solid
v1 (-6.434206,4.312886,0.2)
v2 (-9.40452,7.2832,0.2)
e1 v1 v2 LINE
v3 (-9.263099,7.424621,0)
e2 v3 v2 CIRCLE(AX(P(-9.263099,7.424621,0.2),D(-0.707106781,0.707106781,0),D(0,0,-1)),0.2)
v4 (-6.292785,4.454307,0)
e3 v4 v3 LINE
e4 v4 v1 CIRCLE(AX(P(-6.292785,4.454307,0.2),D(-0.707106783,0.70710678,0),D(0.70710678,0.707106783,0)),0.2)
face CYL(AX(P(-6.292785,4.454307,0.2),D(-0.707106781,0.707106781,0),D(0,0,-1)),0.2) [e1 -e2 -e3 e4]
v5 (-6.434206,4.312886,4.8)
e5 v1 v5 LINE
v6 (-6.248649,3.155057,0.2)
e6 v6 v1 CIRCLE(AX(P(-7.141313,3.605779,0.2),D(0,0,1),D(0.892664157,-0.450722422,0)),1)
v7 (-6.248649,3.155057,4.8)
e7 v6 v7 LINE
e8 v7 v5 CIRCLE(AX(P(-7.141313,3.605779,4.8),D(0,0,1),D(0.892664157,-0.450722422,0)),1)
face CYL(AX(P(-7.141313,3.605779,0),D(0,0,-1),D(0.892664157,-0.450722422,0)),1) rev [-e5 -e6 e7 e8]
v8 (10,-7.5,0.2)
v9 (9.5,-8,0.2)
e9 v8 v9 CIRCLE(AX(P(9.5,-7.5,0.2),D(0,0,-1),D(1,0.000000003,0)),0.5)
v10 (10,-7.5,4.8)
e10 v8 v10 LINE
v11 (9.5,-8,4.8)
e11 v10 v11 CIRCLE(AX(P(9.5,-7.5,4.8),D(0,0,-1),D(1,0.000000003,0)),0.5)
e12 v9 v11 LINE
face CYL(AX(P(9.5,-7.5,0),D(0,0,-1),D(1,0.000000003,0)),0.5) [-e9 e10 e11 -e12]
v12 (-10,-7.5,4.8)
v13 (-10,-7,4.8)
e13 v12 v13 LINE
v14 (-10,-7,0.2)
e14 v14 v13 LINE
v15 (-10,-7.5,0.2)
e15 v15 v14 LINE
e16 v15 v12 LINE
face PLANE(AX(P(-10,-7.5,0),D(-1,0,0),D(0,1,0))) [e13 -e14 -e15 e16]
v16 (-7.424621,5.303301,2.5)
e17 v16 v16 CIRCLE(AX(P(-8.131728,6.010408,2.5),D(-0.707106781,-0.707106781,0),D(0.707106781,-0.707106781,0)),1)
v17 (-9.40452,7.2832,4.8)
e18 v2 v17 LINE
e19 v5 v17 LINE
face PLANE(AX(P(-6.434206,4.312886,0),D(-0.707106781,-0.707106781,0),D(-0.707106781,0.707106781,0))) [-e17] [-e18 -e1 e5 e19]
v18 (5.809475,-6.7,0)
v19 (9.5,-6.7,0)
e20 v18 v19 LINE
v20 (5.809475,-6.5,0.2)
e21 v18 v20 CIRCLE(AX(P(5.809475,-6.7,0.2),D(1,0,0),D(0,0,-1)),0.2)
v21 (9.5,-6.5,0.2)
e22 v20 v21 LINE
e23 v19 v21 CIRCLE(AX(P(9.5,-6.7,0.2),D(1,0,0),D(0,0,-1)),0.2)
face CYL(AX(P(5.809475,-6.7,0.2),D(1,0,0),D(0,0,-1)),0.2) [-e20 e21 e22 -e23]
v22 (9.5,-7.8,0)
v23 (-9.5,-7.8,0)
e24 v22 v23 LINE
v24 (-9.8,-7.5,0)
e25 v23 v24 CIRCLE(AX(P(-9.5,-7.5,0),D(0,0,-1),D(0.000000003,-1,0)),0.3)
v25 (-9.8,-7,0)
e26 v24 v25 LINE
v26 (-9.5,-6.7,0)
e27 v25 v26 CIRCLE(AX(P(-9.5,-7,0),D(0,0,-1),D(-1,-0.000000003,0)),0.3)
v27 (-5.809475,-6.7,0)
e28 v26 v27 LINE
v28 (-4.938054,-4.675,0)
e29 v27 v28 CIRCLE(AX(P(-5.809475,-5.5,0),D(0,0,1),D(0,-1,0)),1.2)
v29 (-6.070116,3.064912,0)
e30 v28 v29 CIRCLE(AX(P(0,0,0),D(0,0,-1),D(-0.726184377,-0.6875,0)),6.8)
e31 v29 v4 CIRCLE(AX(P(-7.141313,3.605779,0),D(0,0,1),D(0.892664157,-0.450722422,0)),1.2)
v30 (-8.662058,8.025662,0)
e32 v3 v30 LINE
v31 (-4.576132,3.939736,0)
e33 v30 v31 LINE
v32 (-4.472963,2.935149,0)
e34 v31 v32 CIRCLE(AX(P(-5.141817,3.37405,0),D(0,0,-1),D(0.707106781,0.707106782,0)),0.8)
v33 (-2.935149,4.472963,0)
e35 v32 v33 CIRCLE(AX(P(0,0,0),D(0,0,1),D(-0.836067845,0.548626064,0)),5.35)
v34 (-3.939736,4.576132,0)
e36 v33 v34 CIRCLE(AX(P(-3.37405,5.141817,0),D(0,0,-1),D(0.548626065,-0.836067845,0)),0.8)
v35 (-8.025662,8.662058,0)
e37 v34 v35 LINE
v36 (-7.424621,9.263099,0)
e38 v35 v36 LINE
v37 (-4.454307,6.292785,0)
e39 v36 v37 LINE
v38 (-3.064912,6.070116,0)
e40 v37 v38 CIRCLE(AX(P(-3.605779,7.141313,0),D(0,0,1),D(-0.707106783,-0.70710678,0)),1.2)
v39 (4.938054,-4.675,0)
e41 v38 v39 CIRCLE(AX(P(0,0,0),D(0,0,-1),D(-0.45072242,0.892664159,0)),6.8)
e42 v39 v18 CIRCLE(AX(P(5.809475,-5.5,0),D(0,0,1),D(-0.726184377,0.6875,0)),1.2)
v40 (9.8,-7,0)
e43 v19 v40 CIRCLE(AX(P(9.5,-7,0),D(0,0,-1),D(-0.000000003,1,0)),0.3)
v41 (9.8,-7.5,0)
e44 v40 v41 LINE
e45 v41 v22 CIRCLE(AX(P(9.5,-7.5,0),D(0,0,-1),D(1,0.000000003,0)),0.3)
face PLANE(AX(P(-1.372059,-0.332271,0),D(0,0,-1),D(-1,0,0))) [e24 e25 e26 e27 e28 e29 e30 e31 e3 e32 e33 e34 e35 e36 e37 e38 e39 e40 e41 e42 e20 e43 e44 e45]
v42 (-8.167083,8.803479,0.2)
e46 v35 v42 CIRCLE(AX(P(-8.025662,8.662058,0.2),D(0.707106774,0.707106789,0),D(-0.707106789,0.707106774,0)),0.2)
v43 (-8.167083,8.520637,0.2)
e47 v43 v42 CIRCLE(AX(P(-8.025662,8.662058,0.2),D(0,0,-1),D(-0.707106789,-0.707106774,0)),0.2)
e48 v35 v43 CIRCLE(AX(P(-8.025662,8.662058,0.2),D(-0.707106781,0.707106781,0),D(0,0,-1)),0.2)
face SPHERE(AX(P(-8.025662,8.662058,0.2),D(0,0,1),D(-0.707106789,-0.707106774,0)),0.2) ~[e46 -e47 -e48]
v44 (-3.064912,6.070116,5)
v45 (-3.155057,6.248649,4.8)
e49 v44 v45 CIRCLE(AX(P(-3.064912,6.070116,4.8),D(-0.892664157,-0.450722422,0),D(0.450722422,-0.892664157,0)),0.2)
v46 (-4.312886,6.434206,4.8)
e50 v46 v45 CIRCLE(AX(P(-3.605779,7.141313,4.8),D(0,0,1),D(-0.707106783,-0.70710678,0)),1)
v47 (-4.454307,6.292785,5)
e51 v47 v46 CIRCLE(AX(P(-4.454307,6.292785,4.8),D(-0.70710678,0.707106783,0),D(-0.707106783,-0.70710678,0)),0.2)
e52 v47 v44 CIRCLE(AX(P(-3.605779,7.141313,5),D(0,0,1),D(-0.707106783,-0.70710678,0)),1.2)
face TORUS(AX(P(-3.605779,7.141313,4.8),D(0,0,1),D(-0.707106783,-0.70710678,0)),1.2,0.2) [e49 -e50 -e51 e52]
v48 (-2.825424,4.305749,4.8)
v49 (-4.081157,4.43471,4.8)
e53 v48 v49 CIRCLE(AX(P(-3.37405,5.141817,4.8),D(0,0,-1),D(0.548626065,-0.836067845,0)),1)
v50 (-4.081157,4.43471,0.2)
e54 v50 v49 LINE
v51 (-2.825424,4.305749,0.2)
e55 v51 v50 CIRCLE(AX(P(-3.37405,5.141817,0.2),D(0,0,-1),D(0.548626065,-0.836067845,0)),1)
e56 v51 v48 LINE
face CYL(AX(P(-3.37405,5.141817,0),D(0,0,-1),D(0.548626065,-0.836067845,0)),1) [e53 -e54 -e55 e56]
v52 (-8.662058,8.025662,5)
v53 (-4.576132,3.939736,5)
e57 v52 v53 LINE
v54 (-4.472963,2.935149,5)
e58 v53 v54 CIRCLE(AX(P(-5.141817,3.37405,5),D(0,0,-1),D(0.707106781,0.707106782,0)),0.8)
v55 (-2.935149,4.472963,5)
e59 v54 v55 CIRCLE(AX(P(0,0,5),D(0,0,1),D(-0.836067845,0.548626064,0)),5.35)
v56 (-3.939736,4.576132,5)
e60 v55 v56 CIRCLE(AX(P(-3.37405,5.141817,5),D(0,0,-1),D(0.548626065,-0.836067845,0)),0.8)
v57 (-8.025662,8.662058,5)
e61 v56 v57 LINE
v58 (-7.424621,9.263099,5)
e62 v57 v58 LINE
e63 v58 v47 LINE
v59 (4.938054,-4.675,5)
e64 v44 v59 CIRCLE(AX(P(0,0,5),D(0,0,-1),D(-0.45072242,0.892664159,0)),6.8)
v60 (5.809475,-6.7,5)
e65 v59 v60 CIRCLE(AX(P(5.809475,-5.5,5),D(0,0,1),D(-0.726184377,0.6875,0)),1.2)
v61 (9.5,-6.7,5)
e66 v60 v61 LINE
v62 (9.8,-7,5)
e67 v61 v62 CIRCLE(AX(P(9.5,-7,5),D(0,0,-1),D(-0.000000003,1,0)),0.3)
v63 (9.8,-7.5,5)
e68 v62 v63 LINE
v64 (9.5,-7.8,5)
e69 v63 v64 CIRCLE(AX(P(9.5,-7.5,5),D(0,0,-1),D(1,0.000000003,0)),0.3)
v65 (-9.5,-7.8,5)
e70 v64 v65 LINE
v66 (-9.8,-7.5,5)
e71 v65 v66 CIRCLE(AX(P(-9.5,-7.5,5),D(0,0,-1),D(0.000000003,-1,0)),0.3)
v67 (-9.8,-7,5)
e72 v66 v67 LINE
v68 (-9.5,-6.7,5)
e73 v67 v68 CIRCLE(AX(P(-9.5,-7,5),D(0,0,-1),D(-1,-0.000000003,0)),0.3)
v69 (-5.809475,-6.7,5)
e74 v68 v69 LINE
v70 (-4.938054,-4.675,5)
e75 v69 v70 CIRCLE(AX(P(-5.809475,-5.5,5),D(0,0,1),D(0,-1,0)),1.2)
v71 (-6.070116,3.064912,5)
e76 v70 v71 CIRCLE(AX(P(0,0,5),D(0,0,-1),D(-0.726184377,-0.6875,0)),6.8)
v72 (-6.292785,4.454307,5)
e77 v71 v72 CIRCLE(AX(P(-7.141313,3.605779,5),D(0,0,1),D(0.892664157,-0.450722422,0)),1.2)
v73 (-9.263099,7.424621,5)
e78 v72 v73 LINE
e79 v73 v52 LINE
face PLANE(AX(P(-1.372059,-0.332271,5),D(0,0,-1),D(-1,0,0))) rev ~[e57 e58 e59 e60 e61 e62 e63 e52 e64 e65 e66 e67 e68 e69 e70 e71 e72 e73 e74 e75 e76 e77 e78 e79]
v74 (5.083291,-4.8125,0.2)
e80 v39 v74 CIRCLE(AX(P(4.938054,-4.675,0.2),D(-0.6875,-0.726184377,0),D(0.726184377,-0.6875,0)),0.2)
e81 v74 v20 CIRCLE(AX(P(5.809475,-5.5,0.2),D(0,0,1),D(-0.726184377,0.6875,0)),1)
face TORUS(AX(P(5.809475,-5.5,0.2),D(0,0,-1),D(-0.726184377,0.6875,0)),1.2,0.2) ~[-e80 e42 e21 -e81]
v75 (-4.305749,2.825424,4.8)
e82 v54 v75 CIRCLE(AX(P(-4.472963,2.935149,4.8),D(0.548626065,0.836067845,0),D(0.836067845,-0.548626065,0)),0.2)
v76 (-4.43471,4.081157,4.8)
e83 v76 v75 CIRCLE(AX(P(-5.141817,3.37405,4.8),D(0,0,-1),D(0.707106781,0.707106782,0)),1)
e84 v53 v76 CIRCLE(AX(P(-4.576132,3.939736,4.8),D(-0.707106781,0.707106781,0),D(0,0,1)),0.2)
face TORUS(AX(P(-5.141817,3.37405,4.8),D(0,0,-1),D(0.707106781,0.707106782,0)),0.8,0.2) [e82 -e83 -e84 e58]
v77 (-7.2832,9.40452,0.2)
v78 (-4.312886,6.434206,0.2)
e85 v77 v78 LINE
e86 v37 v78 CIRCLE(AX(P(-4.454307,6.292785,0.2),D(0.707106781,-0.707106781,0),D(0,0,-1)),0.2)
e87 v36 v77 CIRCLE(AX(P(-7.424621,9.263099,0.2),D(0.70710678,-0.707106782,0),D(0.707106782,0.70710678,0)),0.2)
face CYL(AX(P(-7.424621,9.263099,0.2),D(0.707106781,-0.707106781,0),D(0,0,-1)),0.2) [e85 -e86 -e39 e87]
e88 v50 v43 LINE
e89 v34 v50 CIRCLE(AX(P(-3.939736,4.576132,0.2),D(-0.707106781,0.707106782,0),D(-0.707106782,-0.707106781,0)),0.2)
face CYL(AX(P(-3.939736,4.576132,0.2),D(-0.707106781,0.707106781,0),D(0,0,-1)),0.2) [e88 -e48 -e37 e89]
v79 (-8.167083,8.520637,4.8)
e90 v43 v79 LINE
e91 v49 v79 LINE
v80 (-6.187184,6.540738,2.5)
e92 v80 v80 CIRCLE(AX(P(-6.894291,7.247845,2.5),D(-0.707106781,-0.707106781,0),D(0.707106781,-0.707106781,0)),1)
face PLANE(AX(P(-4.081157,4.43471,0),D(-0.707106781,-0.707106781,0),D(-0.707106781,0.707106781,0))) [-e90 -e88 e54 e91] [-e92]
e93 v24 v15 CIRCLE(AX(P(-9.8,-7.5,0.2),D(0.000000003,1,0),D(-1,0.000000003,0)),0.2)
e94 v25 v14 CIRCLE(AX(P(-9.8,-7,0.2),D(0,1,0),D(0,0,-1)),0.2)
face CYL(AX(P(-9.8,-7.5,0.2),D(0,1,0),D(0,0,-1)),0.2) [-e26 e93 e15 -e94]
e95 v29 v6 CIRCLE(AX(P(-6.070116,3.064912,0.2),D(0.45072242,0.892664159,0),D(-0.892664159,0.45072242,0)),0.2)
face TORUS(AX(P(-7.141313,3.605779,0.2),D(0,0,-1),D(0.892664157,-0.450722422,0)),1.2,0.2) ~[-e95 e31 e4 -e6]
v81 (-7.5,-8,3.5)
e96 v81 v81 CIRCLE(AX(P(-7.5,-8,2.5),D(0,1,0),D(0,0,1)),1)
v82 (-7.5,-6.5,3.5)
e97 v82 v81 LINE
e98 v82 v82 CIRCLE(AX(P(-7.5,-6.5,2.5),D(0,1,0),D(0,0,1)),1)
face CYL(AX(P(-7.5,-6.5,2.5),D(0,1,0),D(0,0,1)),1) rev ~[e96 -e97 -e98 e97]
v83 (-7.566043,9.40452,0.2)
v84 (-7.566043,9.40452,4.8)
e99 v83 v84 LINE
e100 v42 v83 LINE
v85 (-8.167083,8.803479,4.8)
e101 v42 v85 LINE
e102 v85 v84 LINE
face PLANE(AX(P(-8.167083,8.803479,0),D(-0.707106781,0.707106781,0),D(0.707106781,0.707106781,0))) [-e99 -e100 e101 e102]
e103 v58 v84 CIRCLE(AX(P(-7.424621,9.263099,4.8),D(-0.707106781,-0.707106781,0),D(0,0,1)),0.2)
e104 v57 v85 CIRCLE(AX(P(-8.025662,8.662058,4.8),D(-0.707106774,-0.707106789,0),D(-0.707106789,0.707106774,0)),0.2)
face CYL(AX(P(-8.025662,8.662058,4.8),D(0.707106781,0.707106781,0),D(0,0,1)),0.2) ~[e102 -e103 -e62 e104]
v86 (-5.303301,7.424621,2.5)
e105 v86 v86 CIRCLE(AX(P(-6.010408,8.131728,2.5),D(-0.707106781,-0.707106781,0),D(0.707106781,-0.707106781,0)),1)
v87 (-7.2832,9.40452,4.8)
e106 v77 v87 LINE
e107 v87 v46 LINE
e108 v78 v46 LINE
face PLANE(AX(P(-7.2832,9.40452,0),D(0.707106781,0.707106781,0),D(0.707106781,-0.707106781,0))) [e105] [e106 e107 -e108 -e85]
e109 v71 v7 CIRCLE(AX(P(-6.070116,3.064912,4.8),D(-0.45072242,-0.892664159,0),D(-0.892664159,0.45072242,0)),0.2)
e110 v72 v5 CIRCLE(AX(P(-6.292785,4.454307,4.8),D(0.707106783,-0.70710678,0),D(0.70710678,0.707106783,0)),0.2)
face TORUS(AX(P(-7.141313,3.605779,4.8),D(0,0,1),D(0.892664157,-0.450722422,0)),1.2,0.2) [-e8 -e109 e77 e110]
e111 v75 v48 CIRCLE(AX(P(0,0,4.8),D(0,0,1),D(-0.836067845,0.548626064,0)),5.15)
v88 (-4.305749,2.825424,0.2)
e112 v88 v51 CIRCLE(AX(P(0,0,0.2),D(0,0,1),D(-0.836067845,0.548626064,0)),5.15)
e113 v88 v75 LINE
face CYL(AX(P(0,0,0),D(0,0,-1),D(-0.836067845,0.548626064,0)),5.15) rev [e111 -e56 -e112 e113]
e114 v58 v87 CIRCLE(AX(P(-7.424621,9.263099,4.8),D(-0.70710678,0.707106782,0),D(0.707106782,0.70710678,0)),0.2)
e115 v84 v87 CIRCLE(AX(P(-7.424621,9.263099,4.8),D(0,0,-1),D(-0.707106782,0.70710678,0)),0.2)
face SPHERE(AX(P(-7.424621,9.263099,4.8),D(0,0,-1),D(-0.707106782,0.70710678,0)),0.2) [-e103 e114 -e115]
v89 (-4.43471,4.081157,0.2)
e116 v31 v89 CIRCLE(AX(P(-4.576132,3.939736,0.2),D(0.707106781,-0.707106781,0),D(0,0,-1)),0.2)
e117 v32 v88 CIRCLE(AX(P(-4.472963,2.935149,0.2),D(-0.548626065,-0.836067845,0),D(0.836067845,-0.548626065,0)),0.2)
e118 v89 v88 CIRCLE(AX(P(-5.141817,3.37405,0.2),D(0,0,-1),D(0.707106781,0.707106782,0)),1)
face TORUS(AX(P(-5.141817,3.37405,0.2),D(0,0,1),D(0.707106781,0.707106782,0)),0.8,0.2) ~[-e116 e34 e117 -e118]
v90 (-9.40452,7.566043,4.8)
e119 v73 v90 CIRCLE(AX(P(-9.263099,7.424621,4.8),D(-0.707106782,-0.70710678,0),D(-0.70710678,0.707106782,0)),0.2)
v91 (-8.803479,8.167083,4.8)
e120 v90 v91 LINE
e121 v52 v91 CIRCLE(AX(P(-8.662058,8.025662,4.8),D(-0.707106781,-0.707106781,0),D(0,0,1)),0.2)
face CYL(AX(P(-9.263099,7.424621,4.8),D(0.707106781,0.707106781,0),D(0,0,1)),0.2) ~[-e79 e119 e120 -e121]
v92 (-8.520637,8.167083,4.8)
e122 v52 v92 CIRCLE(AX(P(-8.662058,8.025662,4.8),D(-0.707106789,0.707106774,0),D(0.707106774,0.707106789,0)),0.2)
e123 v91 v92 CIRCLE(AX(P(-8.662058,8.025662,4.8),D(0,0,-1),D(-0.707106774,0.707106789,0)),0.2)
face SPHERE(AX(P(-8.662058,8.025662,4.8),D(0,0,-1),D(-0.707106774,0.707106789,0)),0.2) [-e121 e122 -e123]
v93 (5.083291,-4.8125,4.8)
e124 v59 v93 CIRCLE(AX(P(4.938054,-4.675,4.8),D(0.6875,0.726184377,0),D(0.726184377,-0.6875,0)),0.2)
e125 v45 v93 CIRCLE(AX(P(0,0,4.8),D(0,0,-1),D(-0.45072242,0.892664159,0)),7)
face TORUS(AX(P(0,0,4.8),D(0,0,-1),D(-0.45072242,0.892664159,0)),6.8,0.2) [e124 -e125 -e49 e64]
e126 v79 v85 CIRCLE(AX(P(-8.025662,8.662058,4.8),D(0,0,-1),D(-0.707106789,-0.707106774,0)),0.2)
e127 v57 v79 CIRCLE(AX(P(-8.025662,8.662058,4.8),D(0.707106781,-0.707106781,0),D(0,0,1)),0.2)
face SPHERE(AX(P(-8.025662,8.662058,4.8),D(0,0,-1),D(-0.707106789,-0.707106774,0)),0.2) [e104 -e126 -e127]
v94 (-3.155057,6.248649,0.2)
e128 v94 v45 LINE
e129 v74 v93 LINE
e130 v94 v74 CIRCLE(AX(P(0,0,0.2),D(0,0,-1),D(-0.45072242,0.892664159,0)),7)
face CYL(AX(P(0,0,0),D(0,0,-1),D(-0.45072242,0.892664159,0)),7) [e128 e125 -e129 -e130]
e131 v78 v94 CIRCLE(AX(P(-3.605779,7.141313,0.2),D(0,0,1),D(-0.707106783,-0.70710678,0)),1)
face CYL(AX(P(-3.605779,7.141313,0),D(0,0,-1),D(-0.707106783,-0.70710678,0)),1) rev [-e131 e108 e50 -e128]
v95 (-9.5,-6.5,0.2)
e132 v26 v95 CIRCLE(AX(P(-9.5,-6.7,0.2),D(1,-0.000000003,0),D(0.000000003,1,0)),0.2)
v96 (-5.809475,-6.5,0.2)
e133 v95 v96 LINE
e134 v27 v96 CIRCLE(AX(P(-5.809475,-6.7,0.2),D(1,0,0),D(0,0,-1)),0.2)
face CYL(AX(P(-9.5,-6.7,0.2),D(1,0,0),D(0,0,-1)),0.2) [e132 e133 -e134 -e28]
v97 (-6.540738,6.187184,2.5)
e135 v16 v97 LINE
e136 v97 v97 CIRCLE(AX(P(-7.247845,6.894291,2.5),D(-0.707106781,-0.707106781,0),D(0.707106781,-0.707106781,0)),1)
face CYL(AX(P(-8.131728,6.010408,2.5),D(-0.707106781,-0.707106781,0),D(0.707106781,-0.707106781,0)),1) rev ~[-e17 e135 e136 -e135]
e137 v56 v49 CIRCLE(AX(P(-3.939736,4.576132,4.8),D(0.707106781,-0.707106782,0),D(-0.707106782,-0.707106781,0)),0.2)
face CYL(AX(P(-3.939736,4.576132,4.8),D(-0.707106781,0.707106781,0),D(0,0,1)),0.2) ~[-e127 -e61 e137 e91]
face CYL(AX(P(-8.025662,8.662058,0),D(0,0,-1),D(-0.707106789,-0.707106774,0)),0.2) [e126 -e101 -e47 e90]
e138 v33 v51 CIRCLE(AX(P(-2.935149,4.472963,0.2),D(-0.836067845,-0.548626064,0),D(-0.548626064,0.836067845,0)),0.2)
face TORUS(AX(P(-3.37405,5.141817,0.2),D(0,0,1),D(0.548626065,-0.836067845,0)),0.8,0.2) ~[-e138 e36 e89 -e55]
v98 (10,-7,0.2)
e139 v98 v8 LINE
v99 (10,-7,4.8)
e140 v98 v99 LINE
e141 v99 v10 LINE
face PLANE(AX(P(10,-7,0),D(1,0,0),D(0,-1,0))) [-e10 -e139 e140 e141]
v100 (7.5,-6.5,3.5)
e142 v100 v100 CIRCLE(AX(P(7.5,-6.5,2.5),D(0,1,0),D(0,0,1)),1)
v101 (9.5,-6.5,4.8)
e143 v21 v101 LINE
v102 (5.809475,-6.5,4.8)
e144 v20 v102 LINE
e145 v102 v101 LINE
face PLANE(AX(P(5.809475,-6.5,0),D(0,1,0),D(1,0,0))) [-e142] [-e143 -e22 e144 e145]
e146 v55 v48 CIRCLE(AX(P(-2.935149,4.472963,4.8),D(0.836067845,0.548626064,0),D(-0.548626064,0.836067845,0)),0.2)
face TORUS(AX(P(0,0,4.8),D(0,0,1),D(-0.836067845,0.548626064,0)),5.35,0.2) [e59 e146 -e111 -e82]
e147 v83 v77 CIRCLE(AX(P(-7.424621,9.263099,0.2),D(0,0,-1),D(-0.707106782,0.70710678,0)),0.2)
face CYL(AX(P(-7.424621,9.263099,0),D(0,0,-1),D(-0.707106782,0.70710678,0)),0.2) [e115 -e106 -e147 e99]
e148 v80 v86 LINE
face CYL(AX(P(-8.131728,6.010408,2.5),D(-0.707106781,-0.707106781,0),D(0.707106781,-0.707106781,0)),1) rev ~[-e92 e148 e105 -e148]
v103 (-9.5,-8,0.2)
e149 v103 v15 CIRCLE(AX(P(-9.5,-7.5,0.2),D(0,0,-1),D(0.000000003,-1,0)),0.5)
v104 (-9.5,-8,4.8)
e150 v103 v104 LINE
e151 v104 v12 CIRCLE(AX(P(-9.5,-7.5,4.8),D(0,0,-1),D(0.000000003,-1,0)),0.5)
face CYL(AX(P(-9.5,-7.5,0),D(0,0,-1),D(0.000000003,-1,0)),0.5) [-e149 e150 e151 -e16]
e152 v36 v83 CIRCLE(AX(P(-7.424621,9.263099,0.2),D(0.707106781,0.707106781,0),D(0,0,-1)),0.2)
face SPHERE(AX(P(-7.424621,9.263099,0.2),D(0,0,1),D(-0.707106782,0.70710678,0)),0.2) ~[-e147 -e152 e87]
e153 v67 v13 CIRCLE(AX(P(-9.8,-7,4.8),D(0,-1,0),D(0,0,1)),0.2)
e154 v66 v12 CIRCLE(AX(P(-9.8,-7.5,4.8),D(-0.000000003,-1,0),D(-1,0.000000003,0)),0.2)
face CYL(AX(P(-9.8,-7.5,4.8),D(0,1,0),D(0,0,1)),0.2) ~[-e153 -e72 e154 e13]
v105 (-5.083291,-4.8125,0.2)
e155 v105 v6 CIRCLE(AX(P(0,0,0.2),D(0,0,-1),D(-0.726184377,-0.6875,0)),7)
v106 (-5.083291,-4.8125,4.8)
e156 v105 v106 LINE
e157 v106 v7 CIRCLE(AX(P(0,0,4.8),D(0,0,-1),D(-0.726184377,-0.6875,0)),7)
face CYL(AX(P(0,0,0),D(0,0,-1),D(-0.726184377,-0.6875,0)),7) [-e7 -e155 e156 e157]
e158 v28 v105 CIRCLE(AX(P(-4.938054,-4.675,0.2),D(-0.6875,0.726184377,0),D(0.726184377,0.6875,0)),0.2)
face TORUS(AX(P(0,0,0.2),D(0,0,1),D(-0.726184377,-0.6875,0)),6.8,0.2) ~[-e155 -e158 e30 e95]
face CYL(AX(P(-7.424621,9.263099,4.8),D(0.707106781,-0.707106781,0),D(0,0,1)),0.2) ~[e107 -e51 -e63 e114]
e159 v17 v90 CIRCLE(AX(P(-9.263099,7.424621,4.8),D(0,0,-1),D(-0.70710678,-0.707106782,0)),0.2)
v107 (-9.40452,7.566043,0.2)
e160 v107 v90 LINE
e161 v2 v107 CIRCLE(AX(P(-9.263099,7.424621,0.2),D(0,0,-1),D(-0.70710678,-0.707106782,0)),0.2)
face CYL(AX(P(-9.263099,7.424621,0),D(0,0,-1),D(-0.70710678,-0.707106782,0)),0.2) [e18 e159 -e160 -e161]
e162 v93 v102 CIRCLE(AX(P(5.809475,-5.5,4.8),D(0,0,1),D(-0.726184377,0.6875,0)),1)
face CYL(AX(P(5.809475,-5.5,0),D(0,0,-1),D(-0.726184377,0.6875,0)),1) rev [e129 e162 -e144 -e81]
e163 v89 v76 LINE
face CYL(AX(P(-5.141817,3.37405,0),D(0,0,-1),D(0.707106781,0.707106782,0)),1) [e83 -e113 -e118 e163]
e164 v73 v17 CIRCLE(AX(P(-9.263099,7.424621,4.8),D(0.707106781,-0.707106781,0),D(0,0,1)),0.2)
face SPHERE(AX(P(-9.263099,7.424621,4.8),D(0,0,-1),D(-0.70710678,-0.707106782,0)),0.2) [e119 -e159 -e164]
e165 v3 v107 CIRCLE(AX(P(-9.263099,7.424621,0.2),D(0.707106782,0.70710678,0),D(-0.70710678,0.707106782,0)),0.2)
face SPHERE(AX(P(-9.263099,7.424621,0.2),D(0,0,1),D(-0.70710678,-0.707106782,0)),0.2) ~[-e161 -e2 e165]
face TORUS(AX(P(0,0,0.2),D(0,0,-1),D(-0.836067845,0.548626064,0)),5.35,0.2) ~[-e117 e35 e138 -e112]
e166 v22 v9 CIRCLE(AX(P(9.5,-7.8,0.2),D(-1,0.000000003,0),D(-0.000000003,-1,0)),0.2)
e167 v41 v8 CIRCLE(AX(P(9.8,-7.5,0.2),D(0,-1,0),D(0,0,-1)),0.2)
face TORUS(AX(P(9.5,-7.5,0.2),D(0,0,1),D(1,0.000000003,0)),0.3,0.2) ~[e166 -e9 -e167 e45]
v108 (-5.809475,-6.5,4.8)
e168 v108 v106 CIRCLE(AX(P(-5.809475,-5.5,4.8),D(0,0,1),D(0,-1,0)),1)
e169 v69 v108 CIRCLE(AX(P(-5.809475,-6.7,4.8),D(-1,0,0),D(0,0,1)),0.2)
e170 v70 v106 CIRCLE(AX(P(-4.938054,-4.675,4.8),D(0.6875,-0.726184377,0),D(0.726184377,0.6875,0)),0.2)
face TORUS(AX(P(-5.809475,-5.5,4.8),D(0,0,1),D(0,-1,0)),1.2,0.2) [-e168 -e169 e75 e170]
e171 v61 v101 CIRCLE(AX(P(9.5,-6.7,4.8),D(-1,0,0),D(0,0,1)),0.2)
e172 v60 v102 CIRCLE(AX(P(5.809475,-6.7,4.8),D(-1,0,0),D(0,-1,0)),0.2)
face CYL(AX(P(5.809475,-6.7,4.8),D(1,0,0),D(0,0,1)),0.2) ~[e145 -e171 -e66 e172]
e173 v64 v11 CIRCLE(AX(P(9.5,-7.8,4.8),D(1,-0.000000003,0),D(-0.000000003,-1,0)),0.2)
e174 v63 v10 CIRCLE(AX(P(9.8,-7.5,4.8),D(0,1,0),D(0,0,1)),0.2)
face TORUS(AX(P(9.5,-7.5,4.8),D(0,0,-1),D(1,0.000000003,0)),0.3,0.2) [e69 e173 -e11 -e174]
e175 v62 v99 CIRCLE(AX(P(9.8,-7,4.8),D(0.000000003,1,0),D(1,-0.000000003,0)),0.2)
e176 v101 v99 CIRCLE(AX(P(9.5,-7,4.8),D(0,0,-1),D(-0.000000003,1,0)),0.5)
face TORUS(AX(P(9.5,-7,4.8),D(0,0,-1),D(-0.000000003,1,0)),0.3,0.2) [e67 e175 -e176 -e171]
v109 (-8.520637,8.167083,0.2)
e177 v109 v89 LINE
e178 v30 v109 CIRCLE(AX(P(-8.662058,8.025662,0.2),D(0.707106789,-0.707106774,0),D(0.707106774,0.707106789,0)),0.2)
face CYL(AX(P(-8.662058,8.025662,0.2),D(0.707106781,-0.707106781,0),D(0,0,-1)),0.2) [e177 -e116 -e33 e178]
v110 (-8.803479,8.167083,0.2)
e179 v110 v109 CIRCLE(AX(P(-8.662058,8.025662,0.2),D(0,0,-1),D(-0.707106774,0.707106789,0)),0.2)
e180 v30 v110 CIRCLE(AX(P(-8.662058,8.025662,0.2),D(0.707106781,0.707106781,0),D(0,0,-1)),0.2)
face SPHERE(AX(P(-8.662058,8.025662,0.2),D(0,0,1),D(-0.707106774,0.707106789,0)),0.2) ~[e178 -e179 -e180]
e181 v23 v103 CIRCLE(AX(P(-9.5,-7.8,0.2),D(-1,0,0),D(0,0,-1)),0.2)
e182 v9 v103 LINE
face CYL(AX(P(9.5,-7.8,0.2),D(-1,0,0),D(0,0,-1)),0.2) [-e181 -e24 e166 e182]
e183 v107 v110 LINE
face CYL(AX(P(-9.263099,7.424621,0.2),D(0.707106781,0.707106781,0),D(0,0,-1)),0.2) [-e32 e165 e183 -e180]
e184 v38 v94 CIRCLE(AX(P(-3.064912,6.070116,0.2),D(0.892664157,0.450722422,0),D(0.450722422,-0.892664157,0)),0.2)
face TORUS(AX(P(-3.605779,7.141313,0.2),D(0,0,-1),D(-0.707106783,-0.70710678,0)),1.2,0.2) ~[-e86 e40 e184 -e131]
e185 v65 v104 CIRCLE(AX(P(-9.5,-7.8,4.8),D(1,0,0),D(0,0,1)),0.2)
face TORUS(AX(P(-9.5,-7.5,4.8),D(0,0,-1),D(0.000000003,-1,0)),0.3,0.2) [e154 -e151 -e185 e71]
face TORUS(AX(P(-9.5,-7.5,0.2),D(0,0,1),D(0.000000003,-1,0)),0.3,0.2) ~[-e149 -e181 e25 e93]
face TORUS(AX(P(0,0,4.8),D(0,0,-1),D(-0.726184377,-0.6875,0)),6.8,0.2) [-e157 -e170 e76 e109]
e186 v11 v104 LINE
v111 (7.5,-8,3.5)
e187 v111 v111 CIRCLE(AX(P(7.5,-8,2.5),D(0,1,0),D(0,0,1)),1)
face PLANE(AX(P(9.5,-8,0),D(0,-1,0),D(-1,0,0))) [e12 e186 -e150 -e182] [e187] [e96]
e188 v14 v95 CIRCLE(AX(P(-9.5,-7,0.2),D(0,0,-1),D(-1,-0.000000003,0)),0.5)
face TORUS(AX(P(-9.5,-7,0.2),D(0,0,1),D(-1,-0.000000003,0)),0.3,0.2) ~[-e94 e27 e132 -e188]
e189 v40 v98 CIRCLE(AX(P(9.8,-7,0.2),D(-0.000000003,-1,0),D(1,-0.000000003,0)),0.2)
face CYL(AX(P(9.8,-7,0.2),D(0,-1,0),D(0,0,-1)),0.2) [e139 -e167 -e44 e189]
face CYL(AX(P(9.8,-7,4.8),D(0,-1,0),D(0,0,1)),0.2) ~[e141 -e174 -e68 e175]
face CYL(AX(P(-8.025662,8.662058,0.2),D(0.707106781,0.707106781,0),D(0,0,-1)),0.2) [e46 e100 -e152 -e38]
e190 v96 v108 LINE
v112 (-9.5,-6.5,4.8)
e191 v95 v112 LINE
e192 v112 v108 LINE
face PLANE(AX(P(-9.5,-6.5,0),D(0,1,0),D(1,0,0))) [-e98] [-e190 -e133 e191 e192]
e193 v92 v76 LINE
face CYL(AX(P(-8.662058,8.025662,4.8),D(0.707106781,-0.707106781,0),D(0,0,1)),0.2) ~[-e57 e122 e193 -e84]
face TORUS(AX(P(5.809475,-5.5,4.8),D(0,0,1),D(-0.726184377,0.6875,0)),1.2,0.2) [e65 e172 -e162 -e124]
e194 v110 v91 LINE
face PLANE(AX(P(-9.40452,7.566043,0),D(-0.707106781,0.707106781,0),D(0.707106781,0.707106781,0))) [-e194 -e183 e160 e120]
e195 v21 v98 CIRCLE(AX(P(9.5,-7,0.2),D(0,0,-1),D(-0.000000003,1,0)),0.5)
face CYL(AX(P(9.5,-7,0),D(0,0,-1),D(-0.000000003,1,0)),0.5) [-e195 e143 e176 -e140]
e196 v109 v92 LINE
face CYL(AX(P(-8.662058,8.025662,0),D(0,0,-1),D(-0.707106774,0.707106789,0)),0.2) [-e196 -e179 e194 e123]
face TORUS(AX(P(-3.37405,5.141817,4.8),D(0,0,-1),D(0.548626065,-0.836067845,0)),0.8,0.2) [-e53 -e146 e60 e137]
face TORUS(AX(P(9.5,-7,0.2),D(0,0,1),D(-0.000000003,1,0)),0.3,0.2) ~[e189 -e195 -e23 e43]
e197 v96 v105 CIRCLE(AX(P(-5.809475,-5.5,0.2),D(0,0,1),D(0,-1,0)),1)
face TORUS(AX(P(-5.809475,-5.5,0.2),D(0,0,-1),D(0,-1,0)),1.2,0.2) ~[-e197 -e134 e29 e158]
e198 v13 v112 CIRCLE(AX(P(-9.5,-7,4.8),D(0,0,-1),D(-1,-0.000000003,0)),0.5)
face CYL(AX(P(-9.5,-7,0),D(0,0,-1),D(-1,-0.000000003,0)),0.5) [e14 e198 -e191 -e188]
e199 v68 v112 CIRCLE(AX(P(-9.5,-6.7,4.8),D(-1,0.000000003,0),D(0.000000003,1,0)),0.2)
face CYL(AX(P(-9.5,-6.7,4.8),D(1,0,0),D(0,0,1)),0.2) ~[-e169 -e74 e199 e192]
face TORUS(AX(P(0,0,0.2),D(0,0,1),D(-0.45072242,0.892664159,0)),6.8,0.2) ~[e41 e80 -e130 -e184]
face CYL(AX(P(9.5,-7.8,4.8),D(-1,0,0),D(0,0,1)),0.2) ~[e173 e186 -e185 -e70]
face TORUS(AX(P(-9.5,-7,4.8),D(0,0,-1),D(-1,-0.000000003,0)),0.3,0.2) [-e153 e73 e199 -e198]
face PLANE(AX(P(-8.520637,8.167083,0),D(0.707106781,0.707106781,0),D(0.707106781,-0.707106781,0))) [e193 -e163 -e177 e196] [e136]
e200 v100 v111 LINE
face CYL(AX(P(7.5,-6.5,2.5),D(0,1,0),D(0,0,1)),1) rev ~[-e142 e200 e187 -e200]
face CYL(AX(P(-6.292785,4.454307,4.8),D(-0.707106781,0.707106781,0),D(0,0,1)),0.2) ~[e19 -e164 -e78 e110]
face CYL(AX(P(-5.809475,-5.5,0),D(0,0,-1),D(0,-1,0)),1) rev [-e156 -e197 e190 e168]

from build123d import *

# Parameters (mm, degrees)
EXTRUDE_1_DEPTH     = 5
CUT_EXTRUDE_1_REACH = 21.489
SKETCH_3_R          = 1
FILLET_2_R          = 0.2
SKETCH_5_R          = 1
CUT_EXTRUDE_3_DEPTH = 10


with BuildPart() as part:
    # 草图1 → 凸台-拉伸1 (new body)
    with BuildSketch(Plane.XY):
        with BuildLine():
            Line((-9.5, -6.5), (-5.809475019, -6.5))
            ThreePointArc((-5.809475019, -6.5), (-4.890916366, -5.895284708), (-5.083290642, -4.8125))
            ThreePointArc((-5.083290642, -4.8125), (-6.926305331, -1.013061924), (-6.24864911, 3.155056942))
            ThreePointArc((-6.24864911, 3.155056942), (-6.153913207, 3.764023225), (-6.434206487, 4.312886143))
            Line((-6.434206487, 4.312886143), (-9.40452019, 7.283199846))
            ThreePointArc((-9.40452019, 7.283199846), (-9.463098834, 7.424621202), (-9.40452019, 7.566042559))
            Line((-9.40452019, 7.566042559), (-8.803479426, 8.167083323))
            ThreePointArc((-8.803479426, 8.167083323), (-8.66205807, 8.225661966), (-8.520636713, 8.167083323))
            Line((-8.520636713, 8.167083323), (-4.434710467, 4.081157076))
            ThreePointArc((-4.434710467, 4.081157076), (-4.147049322, 3.476210822), (-4.305749403, 2.825424231))
            ThreePointArc((-4.305749403, 2.825424231), (3.641599923, -3.641599923), (-2.825424231, 4.305749403))
            ThreePointArc((-2.825424231, 4.305749403), (-3.476210822, 4.147049322), (-4.081157076, 4.434710467))
            Line((-4.081157076, 4.434710467), (-8.167083323, 8.520636713))
            ThreePointArc((-8.167083323, 8.520636713), (-8.225661966, 8.66205807), (-8.167083323, 8.803479426))
            Line((-8.167083323, 8.803479426), (-7.566042559, 9.40452019))
            ThreePointArc((-7.566042559, 9.40452019), (-7.424621202, 9.463098834), (-7.283199846, 9.40452019))
            Line((-7.283199846, 9.40452019), (-4.312886143, 6.434206487))
            ThreePointArc((-4.312886143, 6.434206487), (-3.764023225, 6.153913207), (-3.155056942, 6.24864911))
            ThreePointArc((-3.155056942, 6.24864911), (5.613980424, 4.181294512), (5.083290642, -4.8125))
            ThreePointArc((5.083290642, -4.8125), (4.890916366, -5.895284708), (5.809475019, -6.5))
            Line((5.809475019, -6.5), (9.5, -6.5))
            ThreePointArc((9.5, -6.5), (9.853553391, -6.646446609), (10, -7))
            Line((10, -7), (10, -7.5))
            ThreePointArc((10, -7.5), (9.853553391, -7.853553391), (9.5, -8))
            Line((9.5, -8), (-9.5, -8))
            ThreePointArc((-9.5, -8), (-9.853553391, -7.853553391), (-10, -7.5))
            Line((-10, -7.5), (-10, -7))
            ThreePointArc((-10, -7), (-9.853553391, -6.646446609), (-9.5, -6.5))
        make_face()
    extrude(amount=EXTRUDE_1_DEPTH)

    # 草图3 → 切除-拉伸1 (cut, up to next)
    with BuildSketch(Plane(origin=(0, -6.5, 0), x_dir=(1, 0, 0), z_dir=(0, 1, 0)), mode=Mode.PRIVATE) as cut_extrude_1_sk1:
        with Locations(Location((-7.5, -2.5, 0), (0, 0, 270))):
            Circle(SKETCH_3_R)
    cut_extrude_1_tool1 = extrude(cut_extrude_1_sk1.sketch, amount=-CUT_EXTRUDE_1_REACH, mode=Mode.PRIVATE) & part.part
    # 草图3 → 切除-拉伸1 (cut, up to next)
    with BuildSketch(Plane(origin=(0, -6.5, 0), x_dir=(1, 0, 0), z_dir=(0, 1, 0)), mode=Mode.PRIVATE) as cut_extrude_1_sk2:
        with Locations(Location((7.5, -2.5, 0), (0, 0, 270))):
            Circle(SKETCH_3_R)
    cut_extrude_1_tool2 = extrude(cut_extrude_1_sk2.sketch, amount=-CUT_EXTRUDE_1_REACH, mode=Mode.PRIVATE) & part.part
    add(cut_extrude_1_tool1.solids().sort_by_distance((-7.5, -6.5, 2.5))[0], mode=Mode.SUBTRACT)
    add(cut_extrude_1_tool2.solids().sort_by_distance((7.5, -6.5, 2.5))[0], mode=Mode.SUBTRACT)

    # 圆角2
    fillet_2_edges = [part.edges().sort_by_distance(p)[0] for p in [
        (-3.764023225, 6.153913207, 5),
        (-5.798042995, 7.919363338, 5),
        (-7.424621202, 9.463098834, 5),
        (-7.866562941, 9.103999808, 5),
        (-8.225661966, 8.66205807, 5),
        (7.65473751, -6.5, 0),
        (9.853553391, -6.646446609, 0),
        (10, -7.25, 0),
        (9.853553391, -7.853553391, 0),
        (-6.124120199, 6.47767359, 5),
        (0, -8, 0),
        (-9.853553391, -7.853553391, 0),
        (-10, -7.25, 0),
        (-9.853553391, -6.646446609, 0),
        (-7.65473751, -6.5, 0),
        (-4.890916366, -5.895284708, 0),
        (-6.926305331, -1.013061924, 0),
        (-3.476210822, 4.147049322, 5),
        (-6.153913207, 3.764023225, 0),
        (-7.919363338, 5.798042995, 0),
        (-9.463098834, 7.424621202, 0),
        (-9.103999808, 7.866562941, 0),
        (-8.66205807, 8.225661966, 0),
        (-6.47767359, 6.124120199, 0),
        (-4.147049322, 3.476210822, 0),
        (3.641599923, -3.641599923, 0),
        (3.641599923, -3.641599923, 5),
        (-3.476210822, 4.147049322, 0),
        (-6.124120199, 6.47767359, 0),
        (-8.225661966, 8.66205807, 0),
        (-7.866562941, 9.103999808, 0),
        (-7.424621202, 9.463098834, 0),
        (-5.798042995, 7.919363338, 0),
        (-3.764023225, 6.153913207, 0),
        (-4.147049322, 3.476210822, 5),
        (5.613980424, 4.181294512, 0),
        (4.890916366, -5.895284708, 0),
        (-6.47767359, 6.124120199, 5),
        (4.890916366, -5.895284708, 5),
        (-8.66205807, 8.225661966, 5),
        (-9.103999808, 7.866562941, 5),
        (-9.463098834, 7.424621202, 5),
        (-7.919363338, 5.798042995, 5),
        (-6.153913207, 3.764023225, 5),
        (-6.926305331, -1.013061924, 5),
        (-4.890916366, -5.895284708, 5),
        (-7.65473751, -6.5, 5),
        (-9.853553391, -6.646446609, 5),
        (-10, -7.25, 5),
        (5.613980424, 4.181294512, 5),
        (-9.853553391, -7.853553391, 5),
        (0, -8, 5),
        (9.853553391, -7.853553391, 5),
        (10, -7.25, 5),
        (9.853553391, -6.646446609, 5),
        (7.65473751, -6.5, 5),
    ]]
    fillet(fillet_2_edges, radius=FILLET_2_R)

    # 草图5 → 切除-拉伸3 (cut)
    with BuildSketch(Plane(origin=(-1.060660172, -1.060660172, 0), x_dir=(0, 0, 1), z_dir=(-0.7071067811865477, -0.7071067811865475, 0))):
        with Locations(Location((2.5, 10, 0), (0, 0, 270))):
            Circle(SKETCH_5_R)
    extrude(amount=-CUT_EXTRUDE_3_DEPTH, mode=Mode.SUBTRACT)


solid = part.part
